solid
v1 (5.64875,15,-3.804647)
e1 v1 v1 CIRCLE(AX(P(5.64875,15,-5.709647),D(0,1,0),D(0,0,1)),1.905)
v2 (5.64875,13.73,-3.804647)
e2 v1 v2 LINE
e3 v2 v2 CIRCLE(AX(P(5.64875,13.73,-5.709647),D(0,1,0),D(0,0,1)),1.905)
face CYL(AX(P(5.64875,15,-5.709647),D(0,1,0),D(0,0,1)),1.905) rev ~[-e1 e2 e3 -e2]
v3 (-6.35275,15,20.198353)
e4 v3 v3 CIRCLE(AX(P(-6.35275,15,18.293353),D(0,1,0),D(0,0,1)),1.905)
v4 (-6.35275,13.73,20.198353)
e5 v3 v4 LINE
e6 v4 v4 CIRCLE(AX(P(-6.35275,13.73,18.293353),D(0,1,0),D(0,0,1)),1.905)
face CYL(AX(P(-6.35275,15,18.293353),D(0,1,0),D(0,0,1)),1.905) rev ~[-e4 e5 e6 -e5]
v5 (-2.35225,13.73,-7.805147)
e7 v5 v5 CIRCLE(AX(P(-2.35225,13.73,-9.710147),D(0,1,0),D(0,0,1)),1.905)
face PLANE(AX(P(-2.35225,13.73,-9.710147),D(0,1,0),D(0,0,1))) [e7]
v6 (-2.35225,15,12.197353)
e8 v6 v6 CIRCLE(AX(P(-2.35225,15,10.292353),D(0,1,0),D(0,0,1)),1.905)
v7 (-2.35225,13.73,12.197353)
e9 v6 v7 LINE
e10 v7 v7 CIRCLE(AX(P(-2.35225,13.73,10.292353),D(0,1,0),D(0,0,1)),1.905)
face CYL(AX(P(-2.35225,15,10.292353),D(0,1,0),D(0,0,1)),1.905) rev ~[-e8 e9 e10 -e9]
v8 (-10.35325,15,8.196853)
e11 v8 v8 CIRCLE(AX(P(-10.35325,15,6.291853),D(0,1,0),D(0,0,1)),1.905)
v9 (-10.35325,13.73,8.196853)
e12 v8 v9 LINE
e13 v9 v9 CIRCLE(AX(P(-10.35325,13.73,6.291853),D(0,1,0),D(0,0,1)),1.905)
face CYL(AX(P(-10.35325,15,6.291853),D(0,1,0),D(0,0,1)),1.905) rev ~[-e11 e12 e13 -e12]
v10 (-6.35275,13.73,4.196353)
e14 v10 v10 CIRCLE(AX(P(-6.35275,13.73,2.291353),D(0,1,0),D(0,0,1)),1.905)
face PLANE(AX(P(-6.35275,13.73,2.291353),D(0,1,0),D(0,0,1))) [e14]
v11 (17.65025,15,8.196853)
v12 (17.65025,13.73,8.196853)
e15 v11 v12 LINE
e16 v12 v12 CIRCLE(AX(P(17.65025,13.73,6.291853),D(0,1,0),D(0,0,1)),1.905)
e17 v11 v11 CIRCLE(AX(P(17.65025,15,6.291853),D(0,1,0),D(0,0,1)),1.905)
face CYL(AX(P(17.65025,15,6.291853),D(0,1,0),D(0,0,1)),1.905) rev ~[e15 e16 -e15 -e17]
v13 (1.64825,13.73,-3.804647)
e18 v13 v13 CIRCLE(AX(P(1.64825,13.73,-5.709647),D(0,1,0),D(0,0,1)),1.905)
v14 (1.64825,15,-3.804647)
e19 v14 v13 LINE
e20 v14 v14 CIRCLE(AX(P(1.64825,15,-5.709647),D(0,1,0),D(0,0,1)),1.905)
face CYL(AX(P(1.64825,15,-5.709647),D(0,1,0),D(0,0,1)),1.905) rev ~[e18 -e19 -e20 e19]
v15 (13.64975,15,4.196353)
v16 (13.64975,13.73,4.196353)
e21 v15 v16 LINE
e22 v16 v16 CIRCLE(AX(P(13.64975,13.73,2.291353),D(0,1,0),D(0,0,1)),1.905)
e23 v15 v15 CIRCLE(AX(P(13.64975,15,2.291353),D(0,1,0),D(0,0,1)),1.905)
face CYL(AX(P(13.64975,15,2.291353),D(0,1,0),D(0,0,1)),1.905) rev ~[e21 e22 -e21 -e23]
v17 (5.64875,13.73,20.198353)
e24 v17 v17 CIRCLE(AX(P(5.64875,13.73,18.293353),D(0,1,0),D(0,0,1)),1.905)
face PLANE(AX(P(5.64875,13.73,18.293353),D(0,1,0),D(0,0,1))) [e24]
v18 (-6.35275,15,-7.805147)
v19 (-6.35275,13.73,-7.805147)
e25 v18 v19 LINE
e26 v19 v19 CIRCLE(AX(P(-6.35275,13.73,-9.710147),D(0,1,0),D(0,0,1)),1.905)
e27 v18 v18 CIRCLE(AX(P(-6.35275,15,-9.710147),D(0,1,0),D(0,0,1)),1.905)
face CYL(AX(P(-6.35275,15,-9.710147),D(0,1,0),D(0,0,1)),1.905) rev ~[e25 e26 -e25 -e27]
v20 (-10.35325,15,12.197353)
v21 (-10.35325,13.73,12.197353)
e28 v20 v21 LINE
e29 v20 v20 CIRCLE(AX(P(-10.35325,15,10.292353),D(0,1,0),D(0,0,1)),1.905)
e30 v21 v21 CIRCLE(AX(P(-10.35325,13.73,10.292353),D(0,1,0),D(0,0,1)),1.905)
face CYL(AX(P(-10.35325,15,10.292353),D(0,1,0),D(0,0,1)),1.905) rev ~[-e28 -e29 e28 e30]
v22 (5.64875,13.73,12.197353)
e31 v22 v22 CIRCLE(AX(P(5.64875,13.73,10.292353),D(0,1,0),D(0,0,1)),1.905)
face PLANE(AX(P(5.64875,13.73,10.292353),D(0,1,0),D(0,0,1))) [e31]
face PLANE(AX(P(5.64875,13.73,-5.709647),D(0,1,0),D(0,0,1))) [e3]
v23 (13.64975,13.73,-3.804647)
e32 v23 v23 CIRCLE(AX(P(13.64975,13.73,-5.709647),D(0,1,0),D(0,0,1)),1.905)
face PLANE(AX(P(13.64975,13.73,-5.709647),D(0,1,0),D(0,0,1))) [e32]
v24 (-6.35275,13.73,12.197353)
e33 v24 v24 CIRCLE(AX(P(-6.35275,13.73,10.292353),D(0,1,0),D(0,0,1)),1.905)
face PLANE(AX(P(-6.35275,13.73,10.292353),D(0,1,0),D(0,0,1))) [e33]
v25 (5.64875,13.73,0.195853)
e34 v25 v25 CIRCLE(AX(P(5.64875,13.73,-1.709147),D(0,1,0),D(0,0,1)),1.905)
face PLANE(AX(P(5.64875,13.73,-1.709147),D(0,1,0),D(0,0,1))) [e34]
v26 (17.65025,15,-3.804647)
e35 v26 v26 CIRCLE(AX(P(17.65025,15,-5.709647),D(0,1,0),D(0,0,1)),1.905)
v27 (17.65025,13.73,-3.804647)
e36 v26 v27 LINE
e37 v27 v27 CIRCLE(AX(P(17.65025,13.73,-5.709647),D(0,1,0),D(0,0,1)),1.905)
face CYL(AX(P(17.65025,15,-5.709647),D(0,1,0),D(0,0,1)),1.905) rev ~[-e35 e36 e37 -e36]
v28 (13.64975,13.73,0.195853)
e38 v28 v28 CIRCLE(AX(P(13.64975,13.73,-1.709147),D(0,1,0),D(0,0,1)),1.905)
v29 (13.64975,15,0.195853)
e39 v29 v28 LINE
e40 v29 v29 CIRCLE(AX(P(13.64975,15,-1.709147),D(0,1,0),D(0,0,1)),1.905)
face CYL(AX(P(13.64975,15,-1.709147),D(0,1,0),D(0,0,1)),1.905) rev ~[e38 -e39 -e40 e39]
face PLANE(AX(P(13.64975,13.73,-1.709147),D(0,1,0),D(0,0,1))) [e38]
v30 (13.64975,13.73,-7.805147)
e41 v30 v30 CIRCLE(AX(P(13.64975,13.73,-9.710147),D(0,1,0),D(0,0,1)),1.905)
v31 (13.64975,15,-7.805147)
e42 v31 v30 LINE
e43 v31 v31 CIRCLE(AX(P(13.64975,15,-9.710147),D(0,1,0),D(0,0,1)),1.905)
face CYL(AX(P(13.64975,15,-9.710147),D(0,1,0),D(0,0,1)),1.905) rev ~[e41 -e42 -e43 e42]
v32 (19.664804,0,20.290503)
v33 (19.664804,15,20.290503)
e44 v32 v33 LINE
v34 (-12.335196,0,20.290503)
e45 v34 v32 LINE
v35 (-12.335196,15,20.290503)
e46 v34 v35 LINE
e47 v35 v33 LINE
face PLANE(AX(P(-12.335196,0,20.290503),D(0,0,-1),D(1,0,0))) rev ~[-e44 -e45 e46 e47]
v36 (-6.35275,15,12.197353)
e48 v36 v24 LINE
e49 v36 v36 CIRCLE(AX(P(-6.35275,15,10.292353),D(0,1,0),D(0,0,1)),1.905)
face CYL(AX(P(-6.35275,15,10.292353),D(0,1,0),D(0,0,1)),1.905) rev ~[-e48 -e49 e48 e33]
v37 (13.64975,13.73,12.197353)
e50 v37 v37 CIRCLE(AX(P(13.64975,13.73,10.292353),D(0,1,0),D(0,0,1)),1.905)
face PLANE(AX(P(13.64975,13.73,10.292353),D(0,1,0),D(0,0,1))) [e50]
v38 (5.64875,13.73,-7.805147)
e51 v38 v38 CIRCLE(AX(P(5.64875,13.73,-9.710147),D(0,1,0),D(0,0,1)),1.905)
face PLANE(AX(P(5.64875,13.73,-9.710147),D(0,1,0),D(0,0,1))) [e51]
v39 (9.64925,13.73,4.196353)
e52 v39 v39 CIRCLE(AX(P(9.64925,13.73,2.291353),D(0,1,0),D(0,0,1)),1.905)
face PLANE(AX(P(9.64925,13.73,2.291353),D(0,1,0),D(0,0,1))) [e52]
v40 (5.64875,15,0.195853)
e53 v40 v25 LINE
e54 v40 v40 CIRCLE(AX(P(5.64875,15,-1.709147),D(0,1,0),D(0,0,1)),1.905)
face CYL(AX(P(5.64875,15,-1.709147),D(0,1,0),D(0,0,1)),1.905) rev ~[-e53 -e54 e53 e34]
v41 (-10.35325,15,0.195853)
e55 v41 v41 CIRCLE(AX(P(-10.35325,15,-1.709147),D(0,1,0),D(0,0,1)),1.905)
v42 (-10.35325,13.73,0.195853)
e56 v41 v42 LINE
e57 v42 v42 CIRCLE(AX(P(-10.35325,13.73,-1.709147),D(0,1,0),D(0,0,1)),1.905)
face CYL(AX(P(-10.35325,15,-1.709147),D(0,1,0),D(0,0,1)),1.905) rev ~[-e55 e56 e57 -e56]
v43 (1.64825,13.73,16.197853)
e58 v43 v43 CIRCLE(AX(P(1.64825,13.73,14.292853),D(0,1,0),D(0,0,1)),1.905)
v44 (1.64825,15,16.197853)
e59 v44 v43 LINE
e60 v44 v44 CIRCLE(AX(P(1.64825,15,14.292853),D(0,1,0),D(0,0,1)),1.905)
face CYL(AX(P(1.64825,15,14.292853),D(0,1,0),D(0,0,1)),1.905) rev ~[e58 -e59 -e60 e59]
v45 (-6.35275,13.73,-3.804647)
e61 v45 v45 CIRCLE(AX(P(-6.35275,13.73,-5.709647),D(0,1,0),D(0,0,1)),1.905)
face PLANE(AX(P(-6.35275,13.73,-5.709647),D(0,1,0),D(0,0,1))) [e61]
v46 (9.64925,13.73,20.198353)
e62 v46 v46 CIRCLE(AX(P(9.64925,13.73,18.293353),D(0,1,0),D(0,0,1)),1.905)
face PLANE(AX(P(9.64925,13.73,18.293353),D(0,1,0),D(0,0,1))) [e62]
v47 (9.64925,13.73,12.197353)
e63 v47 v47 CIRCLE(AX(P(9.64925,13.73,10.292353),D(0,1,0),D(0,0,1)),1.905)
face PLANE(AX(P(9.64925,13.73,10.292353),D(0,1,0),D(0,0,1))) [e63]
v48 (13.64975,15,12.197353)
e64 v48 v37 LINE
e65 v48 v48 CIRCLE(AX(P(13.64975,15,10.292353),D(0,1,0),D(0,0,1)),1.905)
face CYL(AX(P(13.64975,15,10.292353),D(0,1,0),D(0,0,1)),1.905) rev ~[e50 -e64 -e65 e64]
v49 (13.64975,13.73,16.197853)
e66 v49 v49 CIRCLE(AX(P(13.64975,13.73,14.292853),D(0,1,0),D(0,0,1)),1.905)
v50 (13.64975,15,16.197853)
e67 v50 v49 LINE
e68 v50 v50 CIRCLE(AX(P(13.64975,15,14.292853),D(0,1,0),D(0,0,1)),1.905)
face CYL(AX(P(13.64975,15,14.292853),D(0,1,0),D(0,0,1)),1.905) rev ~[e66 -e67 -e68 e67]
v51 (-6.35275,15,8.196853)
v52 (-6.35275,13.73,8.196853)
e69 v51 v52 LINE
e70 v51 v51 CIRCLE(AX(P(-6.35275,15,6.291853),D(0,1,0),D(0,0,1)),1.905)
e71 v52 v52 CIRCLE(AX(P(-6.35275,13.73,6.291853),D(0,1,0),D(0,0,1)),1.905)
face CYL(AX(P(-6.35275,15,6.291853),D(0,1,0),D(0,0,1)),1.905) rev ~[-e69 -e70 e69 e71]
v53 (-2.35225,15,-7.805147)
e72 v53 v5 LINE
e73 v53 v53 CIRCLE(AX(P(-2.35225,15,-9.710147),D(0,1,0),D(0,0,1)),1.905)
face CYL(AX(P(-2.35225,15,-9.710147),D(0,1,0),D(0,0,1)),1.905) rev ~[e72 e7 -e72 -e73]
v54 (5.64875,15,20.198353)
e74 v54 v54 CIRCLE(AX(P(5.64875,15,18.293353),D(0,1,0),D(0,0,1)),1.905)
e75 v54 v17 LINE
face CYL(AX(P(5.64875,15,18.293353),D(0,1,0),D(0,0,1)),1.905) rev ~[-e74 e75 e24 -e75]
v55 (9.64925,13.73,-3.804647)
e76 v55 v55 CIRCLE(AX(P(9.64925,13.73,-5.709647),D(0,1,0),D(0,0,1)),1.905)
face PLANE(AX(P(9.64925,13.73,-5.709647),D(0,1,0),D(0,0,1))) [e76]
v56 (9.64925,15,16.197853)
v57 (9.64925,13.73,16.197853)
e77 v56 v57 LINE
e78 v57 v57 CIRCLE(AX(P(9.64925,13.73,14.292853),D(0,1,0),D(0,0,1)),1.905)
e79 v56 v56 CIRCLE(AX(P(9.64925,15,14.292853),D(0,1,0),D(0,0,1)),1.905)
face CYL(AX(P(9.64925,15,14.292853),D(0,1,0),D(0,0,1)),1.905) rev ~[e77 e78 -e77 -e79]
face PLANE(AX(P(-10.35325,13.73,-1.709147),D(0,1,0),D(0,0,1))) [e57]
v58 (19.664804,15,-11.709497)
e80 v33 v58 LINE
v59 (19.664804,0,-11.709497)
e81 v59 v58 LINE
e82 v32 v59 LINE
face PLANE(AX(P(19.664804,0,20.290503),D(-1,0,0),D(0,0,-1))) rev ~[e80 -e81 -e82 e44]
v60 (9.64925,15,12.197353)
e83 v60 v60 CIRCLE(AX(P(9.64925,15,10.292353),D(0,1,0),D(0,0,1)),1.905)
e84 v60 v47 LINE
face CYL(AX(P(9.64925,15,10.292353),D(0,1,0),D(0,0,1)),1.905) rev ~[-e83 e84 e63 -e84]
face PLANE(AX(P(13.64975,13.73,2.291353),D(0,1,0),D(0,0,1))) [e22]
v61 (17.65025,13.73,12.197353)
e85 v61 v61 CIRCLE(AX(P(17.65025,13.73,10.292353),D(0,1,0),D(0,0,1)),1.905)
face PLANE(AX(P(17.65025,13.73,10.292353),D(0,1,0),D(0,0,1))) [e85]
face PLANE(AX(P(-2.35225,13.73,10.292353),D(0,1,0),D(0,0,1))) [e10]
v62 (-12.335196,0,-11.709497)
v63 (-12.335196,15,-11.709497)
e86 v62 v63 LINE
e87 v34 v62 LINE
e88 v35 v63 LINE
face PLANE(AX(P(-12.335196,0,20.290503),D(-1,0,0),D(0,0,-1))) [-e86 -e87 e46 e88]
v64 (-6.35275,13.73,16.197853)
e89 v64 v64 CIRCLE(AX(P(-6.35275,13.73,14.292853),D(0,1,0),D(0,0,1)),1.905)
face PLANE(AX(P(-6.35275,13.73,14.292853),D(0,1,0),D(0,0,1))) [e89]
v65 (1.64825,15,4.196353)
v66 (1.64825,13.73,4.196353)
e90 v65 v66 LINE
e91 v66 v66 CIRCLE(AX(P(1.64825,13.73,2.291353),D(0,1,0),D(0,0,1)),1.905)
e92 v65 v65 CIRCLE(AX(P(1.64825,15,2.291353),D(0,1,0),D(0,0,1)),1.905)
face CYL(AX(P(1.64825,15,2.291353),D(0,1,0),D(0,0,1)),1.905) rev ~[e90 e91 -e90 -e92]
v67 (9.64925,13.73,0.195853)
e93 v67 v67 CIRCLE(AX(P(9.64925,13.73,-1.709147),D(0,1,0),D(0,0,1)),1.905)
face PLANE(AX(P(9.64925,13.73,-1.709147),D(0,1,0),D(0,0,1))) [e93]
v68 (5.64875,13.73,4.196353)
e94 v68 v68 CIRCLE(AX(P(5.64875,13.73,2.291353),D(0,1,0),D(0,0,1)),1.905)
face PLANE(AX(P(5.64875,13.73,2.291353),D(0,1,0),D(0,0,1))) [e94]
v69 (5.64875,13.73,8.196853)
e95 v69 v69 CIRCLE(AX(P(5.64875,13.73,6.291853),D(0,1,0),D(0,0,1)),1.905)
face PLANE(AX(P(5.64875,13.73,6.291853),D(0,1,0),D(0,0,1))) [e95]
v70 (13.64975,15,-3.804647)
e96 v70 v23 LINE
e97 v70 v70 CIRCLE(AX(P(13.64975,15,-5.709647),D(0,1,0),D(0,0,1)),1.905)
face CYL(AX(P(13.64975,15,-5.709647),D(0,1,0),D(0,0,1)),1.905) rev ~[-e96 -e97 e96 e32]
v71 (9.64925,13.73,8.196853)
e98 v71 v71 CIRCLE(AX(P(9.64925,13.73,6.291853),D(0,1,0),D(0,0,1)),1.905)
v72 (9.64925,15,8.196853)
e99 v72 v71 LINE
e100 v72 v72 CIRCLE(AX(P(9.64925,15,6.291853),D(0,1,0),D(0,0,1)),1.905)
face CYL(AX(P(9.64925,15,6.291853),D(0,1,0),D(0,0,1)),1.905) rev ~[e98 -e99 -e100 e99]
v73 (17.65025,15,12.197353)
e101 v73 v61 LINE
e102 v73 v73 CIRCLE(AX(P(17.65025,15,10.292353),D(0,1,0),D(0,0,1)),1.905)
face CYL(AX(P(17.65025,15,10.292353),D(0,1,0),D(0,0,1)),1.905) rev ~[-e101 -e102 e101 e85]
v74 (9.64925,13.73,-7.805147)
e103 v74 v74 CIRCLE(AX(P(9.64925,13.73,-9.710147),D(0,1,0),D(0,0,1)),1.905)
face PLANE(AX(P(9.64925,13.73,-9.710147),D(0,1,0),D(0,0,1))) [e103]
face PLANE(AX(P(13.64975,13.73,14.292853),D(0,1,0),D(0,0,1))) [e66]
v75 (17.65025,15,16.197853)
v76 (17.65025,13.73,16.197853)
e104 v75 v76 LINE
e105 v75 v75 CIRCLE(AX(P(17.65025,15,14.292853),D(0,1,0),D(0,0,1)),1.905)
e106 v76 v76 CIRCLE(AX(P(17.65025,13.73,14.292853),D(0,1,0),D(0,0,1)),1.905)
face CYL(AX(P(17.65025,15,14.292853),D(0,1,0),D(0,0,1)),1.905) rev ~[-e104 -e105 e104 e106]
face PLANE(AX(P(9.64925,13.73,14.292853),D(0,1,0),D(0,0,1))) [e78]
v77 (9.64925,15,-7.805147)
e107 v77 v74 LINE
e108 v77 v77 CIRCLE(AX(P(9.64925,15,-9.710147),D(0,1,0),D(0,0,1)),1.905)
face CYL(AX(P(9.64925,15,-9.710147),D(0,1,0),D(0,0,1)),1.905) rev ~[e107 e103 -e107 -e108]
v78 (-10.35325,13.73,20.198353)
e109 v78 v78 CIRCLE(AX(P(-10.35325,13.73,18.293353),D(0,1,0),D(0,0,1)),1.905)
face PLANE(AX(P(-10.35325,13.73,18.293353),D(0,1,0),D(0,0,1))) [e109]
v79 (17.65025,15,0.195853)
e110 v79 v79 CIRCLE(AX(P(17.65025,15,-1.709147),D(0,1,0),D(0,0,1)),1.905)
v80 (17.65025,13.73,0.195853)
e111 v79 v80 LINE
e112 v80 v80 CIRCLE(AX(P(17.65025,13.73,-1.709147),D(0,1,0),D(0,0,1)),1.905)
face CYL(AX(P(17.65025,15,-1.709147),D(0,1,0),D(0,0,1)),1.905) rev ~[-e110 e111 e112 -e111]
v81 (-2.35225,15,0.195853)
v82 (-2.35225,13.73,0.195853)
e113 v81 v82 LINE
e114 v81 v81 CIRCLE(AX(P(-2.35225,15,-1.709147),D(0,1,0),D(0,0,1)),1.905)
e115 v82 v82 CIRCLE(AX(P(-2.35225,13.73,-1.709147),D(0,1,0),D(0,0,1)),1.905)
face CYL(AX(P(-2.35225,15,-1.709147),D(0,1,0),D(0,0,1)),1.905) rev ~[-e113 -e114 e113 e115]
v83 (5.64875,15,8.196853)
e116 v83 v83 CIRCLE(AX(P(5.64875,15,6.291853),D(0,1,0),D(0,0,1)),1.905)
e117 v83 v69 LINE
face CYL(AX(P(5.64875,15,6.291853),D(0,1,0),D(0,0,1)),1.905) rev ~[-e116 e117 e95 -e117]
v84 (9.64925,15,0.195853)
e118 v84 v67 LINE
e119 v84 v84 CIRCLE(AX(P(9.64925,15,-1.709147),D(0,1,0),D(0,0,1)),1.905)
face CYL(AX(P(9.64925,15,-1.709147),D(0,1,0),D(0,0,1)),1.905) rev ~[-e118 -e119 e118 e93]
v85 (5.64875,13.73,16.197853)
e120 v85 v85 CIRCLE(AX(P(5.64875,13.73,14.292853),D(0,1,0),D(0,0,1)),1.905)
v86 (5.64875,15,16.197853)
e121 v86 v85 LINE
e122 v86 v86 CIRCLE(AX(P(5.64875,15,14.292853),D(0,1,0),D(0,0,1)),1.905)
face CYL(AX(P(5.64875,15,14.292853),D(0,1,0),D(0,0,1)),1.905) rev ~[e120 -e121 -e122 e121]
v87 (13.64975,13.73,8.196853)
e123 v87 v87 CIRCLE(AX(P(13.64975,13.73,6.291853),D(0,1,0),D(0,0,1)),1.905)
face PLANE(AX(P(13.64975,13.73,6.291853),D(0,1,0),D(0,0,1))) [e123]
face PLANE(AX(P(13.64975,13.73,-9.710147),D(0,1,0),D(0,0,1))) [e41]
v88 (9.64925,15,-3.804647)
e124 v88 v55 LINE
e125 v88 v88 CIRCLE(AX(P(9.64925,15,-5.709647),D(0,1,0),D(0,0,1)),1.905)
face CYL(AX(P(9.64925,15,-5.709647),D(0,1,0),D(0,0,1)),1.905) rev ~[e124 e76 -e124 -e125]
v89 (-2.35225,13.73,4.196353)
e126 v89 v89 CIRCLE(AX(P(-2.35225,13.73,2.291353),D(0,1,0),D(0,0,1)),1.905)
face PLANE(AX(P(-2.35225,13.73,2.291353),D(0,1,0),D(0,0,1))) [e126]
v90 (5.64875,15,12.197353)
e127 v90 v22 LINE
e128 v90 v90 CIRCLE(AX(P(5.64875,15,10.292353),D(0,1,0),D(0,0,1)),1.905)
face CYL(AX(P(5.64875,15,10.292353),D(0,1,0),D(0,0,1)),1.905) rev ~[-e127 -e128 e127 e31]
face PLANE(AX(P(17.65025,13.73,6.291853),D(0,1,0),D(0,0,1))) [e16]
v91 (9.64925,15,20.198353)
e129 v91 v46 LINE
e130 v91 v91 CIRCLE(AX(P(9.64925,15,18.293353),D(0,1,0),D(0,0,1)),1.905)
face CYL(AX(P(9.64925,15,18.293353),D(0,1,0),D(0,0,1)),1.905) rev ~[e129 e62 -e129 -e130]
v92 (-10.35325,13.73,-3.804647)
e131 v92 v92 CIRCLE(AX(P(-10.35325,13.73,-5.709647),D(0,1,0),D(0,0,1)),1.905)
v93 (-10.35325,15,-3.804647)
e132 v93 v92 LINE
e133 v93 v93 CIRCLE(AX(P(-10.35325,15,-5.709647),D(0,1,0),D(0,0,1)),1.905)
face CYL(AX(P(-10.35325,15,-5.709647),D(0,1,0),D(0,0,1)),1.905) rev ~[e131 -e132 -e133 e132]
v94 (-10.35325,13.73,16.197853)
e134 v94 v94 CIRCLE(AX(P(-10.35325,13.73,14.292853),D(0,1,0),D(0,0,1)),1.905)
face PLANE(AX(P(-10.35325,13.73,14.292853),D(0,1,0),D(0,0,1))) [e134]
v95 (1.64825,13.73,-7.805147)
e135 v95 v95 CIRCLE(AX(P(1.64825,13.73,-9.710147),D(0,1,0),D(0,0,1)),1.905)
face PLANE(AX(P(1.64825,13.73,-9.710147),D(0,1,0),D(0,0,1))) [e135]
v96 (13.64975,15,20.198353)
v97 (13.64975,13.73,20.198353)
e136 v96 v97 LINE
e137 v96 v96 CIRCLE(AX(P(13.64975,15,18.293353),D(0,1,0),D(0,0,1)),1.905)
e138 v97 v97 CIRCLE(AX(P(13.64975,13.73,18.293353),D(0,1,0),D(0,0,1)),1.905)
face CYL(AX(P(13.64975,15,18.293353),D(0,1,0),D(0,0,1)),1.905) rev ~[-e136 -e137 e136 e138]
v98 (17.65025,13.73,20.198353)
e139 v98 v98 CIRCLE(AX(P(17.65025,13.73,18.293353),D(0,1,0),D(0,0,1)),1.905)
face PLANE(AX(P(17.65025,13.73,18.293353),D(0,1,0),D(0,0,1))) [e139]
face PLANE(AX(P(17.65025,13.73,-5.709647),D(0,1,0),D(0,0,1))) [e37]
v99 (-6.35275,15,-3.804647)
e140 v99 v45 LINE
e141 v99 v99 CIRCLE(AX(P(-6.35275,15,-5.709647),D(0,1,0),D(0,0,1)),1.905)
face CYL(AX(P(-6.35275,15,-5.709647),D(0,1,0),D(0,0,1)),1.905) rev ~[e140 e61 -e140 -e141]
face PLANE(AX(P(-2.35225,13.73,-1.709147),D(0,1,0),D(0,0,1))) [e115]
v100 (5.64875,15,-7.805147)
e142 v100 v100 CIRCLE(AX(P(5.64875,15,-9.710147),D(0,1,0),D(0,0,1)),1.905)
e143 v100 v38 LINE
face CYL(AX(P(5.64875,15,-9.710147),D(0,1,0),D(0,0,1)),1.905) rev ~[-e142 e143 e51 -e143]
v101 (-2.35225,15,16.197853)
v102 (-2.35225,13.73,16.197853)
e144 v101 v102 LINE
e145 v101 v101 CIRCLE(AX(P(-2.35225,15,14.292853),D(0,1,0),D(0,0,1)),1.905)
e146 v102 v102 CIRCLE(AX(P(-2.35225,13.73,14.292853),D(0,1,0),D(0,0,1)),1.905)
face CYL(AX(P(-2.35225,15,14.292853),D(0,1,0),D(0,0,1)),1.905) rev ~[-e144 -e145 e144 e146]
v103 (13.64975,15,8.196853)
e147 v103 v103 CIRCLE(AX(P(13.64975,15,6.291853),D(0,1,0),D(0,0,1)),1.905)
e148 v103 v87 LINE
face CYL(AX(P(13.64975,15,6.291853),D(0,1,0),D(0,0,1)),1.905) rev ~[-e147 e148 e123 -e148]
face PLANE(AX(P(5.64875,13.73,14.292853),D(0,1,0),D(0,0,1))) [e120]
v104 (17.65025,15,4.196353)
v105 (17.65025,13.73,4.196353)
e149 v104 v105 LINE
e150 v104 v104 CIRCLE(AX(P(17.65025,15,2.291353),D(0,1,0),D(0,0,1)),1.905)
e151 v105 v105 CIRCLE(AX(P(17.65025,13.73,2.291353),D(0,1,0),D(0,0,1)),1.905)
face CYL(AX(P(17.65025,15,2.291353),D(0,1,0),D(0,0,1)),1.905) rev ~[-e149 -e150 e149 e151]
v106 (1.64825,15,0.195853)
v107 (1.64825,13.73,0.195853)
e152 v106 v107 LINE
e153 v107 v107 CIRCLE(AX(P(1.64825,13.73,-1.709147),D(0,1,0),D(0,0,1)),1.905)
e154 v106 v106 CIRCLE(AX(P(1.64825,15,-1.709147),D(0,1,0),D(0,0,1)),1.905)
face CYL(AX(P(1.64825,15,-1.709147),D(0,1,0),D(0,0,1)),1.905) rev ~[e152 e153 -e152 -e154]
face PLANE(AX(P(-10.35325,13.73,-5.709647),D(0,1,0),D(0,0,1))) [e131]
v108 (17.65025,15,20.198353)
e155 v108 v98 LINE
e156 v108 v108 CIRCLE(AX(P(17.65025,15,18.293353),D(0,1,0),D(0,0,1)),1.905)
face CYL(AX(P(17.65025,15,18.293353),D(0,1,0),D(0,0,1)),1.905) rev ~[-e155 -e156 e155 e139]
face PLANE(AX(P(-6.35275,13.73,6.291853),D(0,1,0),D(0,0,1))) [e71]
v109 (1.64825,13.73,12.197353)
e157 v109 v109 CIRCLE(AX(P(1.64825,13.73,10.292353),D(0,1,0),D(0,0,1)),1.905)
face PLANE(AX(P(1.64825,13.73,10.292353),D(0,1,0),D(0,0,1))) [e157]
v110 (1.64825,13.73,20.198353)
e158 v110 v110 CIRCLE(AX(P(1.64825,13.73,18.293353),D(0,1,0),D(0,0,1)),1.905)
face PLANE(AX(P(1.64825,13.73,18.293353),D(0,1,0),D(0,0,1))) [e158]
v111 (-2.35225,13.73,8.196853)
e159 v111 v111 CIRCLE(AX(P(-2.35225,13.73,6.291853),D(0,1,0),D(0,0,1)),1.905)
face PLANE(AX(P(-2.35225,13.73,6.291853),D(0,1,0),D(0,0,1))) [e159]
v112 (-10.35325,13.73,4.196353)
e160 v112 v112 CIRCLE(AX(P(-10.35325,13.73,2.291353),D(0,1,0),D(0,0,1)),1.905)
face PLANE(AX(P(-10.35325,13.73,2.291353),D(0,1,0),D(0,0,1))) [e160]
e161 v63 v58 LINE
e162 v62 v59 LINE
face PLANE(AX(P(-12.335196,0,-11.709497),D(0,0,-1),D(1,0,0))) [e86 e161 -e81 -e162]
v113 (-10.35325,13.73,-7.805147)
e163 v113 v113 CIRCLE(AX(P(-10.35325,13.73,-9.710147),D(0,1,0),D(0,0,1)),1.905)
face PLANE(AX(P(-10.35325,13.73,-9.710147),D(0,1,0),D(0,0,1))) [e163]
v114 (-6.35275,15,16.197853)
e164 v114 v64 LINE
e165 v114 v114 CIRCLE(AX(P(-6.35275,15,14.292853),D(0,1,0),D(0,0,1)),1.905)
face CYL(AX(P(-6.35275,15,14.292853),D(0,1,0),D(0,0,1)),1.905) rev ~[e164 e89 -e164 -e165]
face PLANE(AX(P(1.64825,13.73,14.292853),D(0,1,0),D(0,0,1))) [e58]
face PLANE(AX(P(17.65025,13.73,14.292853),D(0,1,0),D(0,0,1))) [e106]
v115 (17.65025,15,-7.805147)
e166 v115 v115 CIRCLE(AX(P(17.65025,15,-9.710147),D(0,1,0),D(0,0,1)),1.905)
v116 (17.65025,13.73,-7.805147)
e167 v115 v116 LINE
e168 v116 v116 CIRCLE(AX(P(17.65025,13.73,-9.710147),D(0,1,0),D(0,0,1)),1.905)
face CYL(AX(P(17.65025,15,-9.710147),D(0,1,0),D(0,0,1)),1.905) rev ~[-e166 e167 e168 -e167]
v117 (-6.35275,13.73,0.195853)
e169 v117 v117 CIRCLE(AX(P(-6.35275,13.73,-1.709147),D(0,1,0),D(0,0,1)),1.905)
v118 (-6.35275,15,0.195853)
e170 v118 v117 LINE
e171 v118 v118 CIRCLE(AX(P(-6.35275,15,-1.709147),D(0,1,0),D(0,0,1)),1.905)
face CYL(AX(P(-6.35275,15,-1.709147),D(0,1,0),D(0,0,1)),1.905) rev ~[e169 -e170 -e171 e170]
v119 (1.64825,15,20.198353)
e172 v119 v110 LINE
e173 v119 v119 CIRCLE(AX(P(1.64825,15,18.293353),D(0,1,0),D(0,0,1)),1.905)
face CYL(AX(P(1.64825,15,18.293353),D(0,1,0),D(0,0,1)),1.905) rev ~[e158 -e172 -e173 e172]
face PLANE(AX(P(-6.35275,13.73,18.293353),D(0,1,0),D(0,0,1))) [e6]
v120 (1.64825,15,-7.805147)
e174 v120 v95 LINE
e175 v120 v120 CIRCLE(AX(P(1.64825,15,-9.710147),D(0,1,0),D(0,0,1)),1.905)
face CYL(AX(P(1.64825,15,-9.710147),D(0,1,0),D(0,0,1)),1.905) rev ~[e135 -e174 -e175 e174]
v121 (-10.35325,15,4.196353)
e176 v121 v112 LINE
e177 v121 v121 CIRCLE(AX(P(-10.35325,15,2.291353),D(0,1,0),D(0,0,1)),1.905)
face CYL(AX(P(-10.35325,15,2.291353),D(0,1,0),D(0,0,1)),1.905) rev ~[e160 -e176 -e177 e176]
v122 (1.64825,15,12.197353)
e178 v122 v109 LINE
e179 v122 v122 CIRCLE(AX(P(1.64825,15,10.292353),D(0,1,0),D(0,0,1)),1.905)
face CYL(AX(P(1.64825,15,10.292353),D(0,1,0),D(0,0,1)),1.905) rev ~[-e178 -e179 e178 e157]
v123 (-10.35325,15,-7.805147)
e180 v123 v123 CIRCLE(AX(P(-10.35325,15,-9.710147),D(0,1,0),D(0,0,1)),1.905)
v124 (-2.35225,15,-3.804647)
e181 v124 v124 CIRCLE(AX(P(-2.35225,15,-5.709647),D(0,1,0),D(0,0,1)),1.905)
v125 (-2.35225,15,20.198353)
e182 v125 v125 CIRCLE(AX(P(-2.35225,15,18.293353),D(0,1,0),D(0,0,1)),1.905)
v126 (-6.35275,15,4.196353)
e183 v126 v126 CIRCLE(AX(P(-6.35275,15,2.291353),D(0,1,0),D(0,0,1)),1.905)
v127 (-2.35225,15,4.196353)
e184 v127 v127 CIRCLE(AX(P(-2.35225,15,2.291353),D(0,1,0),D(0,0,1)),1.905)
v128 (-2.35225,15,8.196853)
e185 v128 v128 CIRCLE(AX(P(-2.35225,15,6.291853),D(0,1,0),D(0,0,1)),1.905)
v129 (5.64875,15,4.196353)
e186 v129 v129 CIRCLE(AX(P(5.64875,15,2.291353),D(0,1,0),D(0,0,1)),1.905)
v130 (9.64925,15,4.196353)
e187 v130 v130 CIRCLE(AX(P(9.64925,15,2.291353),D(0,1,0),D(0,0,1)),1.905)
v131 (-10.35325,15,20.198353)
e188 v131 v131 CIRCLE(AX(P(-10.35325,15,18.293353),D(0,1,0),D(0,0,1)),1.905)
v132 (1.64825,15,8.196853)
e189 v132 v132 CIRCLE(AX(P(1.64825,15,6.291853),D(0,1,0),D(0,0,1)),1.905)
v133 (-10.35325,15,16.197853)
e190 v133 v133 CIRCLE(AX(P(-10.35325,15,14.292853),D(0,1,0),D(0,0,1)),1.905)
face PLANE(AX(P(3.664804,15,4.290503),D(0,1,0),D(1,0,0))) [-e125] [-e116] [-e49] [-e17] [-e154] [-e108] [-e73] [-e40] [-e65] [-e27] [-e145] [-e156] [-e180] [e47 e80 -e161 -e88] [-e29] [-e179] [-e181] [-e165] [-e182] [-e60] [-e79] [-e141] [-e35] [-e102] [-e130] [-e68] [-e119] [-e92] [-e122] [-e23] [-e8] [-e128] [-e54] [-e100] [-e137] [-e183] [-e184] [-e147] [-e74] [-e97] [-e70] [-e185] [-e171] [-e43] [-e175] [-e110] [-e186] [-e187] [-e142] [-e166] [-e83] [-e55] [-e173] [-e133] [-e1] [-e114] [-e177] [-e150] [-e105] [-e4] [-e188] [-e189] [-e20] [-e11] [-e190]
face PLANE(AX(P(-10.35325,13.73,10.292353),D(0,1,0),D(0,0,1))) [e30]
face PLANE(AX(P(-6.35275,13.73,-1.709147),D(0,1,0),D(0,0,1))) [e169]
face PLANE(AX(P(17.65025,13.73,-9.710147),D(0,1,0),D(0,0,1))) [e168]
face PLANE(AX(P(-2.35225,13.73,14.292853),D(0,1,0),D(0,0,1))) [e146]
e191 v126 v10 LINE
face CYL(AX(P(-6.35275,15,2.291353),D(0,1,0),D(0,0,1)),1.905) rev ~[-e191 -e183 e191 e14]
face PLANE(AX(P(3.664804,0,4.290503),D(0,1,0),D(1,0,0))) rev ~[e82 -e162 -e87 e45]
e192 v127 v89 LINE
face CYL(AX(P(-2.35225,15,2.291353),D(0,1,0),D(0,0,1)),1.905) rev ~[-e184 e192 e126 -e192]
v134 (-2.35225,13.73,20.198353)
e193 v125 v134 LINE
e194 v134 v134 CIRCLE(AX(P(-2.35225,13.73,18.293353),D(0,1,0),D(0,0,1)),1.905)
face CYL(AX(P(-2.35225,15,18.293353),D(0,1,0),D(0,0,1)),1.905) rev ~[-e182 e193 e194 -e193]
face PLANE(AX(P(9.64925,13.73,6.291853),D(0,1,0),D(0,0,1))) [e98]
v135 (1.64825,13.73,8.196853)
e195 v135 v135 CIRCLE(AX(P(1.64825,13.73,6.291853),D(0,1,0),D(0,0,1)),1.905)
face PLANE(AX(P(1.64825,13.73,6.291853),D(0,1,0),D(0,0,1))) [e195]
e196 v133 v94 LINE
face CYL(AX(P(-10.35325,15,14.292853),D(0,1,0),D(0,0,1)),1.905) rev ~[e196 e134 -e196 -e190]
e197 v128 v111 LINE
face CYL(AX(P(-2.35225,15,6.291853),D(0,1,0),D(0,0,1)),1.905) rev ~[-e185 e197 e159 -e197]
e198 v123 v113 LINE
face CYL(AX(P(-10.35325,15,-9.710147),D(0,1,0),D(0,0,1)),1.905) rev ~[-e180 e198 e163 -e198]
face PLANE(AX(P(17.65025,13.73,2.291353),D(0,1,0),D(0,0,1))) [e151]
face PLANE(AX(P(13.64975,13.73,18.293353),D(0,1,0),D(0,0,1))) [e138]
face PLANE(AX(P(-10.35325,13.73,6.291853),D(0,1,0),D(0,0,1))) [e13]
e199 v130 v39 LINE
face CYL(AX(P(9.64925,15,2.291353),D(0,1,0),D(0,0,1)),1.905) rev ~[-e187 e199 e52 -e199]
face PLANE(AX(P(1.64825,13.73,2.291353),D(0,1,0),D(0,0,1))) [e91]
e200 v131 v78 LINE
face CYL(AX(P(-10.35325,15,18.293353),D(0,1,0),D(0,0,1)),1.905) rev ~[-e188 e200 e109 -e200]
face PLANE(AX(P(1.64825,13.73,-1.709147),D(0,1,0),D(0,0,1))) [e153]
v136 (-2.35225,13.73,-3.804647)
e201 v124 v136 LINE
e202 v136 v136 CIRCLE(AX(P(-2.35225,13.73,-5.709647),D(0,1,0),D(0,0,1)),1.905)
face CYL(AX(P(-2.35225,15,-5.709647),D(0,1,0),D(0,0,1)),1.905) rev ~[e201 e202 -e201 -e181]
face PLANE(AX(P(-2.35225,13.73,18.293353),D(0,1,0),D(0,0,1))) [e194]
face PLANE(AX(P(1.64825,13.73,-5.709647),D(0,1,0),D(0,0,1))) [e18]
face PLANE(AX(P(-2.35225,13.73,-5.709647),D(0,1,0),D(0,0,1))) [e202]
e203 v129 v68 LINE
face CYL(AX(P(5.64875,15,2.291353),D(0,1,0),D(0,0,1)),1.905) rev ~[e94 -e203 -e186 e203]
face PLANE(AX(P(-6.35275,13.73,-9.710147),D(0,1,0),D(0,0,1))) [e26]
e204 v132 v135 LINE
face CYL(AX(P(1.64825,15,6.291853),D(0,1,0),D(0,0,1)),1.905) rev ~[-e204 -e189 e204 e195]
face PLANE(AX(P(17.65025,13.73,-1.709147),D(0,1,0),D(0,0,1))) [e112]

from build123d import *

# Parameters (mm, degrees)
SKETCH1_W           = 32
SKETCH1_H           = 32
BOSS_EXTRUDE1_DEPTH = 15
SKETCH3_R           = 1.905
CUT_EXTRUDE2_DEPTH  = 1.27


with BuildPart() as part:
    # Sketch1 → Boss-Extrude1 (new body)
    with BuildSketch(Plane(origin=(0, 0, 0), x_dir=(1, 0, 0), z_dir=(0, 1, 0))):
        with Locations((3.664804469, -4.290502793)):
            Rectangle(SKETCH1_W, SKETCH1_H)
    extrude(amount=BOSS_EXTRUDE1_DEPTH)

    # Sketch3 → Cut-Extrude2 (cut)
    with BuildSketch(Plane(origin=(0, 15, 0), x_dir=(1, 0, 0), z_dir=(0, 1, 0))):
        with Locations(Location((-10.35324974, -18.293353039, 0), (0, 0, 270))):
            Circle(SKETCH3_R)
        with Locations(Location((-6.35274974, -18.293353039, 0), (0, 0, 270))):
            Circle(SKETCH3_R)
        with Locations(Location((-2.35224974, -18.293353039, 0), (0, 0, 270))):
            Circle(SKETCH3_R)
        with Locations(Location((1.64825026, -18.293353039, 0), (0, 0, 270))):
            Circle(SKETCH3_R)
        with Locations(Location((5.64875026, -18.293353039, 0), (0, 0, 270))):
            Circle(SKETCH3_R)
        with Locations(Location((9.64925026, -18.293353039, 0), (0, 0, 270))):
            Circle(SKETCH3_R)
        with Locations(Location((13.64975026, -18.293353039, 0), (0, 0, 270))):
            Circle(SKETCH3_R)
        with Locations(Location((17.65025026, -18.293353039, 0), (0, 0, 270))):
            Circle(SKETCH3_R)
        with Locations(Location((-6.35274974, -14.292853039, 0), (0, 0, 270))):
            Circle(SKETCH3_R)
        with Locations(Location((-2.35224974, -14.292853039, 0), (0, 0, 270))):
            Circle(SKETCH3_R)
        with Locations(Location((1.64825026, -14.292853039, 0), (0, 0, 270))):
            Circle(SKETCH3_R)
        with Locations(Location((5.64875026, -14.292853039, 0), (0, 0, 270))):
            Circle(SKETCH3_R)
        with Locations(Location((9.64925026, -14.292853039, 0), (0, 0, 270))):
            Circle(SKETCH3_R)
        with Locations(Location((13.64975026, -14.292853039, 0), (0, 0, 270))):
            Circle(SKETCH3_R)
        with Locations(Location((17.65025026, -14.292853039, 0), (0, 0, 270))):
            Circle(SKETCH3_R)
        with Locations(Location((-6.35274974, -10.292353039, 0), (0, 0, 270))):
            Circle(SKETCH3_R)
        with Locations(Location((-2.35224974, -10.292353039, 0), (0, 0, 270))):
            Circle(SKETCH3_R)
        with Locations(Location((1.64825026, -10.292353039, 0), (0, 0, 270))):
            Circle(SKETCH3_R)
        with Locations(Location((5.64875026, -10.292353039, 0), (0, 0, 270))):
            Circle(SKETCH3_R)
        with Locations(Location((9.64925026, -10.292353039, 0), (0, 0, 270))):
            Circle(SKETCH3_R)
        with Locations(Location((13.64975026, -10.292353039, 0), (0, 0, 270))):
            Circle(SKETCH3_R)
        with Locations(Location((17.65025026, -10.292353039, 0), (0, 0, 270))):
            Circle(SKETCH3_R)
        with Locations(Location((-6.35274974, -6.291853039, 0), (0, 0, 270))):
            Circle(SKETCH3_R)
        with Locations(Location((-2.35224974, -6.291853039, 0), (0, 0, 270))):
            Circle(SKETCH3_R)
        with Locations(Location((1.64825026, -6.291853039, 0), (0, 0, 270))):
            Circle(SKETCH3_R)
        with Locations(Location((5.64875026, -6.291853039, 0), (0, 0, 270))):
            Circle(SKETCH3_R)
        with Locations(Location((9.64925026, -6.291853039, 0), (0, 0, 270))):
            Circle(SKETCH3_R)
        with Locations(Location((13.64975026, -6.291853039, 0), (0, 0, 270))):
            Circle(SKETCH3_R)
        with Locations(Location((17.65025026, -6.291853039, 0), (0, 0, 270))):
            Circle(SKETCH3_R)
        with Locations(Location((-6.35274974, -2.291353039, 0), (0, 0, 270))):
            Circle(SKETCH3_R)
        with Locations(Location((-2.35224974, -2.291353039, 0), (0, 0, 270))):
            Circle(SKETCH3_R)
        with Locations(Location((1.64825026, -2.291353039, 0), (0, 0, 270))):
            Circle(SKETCH3_R)
        with Locations(Location((5.64875026, -2.291353039, 0), (0, 0, 270))):
            Circle(SKETCH3_R)
        with Locations(Location((9.64925026, -2.291353039, 0), (0, 0, 270))):
            Circle(SKETCH3_R)
        with Locations(Location((13.64975026, -2.291353039, 0), (0, 0, 270))):
            Circle(SKETCH3_R)
        with Locations(Location((17.65025026, -2.291353039, 0), (0, 0, 270))):
            Circle(SKETCH3_R)
        with Locations(Location((-6.35274974, 1.709146961, 0), (0, 0, 270))):
            Circle(SKETCH3_R)
        with Locations(Location((-2.35224974, 1.709146961, 0), (0, 0, 270))):
            Circle(SKETCH3_R)
        with Locations(Location((1.64825026, 1.709146961, 0), (0, 0, 270))):
            Circle(SKETCH3_R)
        with Locations(Location((5.64875026, 1.709146961, 0), (0, 0, 270))):
            Circle(SKETCH3_R)
        with Locations(Location((9.64925026, 1.709146961, 0), (0, 0, 270))):
            Circle(SKETCH3_R)
        with Locations(Location((13.64975026, 1.709146961, 0), (0, 0, 270))):
            Circle(SKETCH3_R)
        with Locations(Location((17.65025026, 1.709146961, 0), (0, 0, 270))):
            Circle(SKETCH3_R)
        with Locations(Location((-6.35274974, 5.709646961, 0), (0, 0, 270))):
            Circle(SKETCH3_R)
        with Locations(Location((-2.35224974, 5.709646961, 0), (0, 0, 270))):
            Circle(SKETCH3_R)
        with Locations(Location((1.64825026, 5.709646961, 0), (0, 0, 270))):
            Circle(SKETCH3_R)
        with Locations(Location((5.64875026, 5.709646961, 0), (0, 0, 270))):
            Circle(SKETCH3_R)
        with Locations(Location((9.64925026, 5.709646961, 0), (0, 0, 270))):
            Circle(SKETCH3_R)
        with Locations(Location((13.64975026, 5.709646961, 0), (0, 0, 270))):
            Circle(SKETCH3_R)
        with Locations(Location((17.65025026, 5.709646961, 0), (0, 0, 270))):
            Circle(SKETCH3_R)
        with Locations(Location((-6.35274974, 9.710146961, 0), (0, 0, 270))):
            Circle(SKETCH3_R)
        with Locations(Location((-2.35224974, 9.710146961, 0), (0, 0, 270))):
            Circle(SKETCH3_R)
        with Locations(Location((1.64825026, 9.710146961, 0), (0, 0, 270))):
            Circle(SKETCH3_R)
        with Locations(Location((5.64875026, 9.710146961, 0), (0, 0, 270))):
            Circle(SKETCH3_R)
        with Locations(Location((9.64925026, 9.710146961, 0), (0, 0, 270))):
            Circle(SKETCH3_R)
        with Locations(Location((13.64975026, 9.710146961, 0), (0, 0, 270))):
            Circle(SKETCH3_R)
        with Locations(Location((17.65025026, 9.710146961, 0), (0, 0, 270))):
            Circle(SKETCH3_R)
        with Locations(Location((-10.35324974, -14.292853039, 0), (0, 0, 270))):
            Circle(SKETCH3_R)
        with Locations(Location((-10.35324974, -10.292353039, 0), (0, 0, 270))):
            Circle(SKETCH3_R)
        with Locations(Location((-10.35324974, -6.291853039, 0), (0, 0, 270))):
            Circle(SKETCH3_R)
        with Locations(Location((-10.35324974, -2.291353039, 0), (0, 0, 270))):
            Circle(SKETCH3_R)
        with Locations(Location((-10.35324974, 1.709146961, 0), (0, 0, 270))):
            Circle(SKETCH3_R)
        with Locations(Location((-10.35324974, 5.709646961, 0), (0, 0, 270))):
            Circle(SKETCH3_R)
        with Locations(Location((-10.35324974, 9.710146961, 0), (0, 0, 270))):
            Circle(SKETCH3_R)
    extrude(amount=-CUT_EXTRUDE2_DEPTH, mode=Mode.SUBTRACT)


solid = part.part
